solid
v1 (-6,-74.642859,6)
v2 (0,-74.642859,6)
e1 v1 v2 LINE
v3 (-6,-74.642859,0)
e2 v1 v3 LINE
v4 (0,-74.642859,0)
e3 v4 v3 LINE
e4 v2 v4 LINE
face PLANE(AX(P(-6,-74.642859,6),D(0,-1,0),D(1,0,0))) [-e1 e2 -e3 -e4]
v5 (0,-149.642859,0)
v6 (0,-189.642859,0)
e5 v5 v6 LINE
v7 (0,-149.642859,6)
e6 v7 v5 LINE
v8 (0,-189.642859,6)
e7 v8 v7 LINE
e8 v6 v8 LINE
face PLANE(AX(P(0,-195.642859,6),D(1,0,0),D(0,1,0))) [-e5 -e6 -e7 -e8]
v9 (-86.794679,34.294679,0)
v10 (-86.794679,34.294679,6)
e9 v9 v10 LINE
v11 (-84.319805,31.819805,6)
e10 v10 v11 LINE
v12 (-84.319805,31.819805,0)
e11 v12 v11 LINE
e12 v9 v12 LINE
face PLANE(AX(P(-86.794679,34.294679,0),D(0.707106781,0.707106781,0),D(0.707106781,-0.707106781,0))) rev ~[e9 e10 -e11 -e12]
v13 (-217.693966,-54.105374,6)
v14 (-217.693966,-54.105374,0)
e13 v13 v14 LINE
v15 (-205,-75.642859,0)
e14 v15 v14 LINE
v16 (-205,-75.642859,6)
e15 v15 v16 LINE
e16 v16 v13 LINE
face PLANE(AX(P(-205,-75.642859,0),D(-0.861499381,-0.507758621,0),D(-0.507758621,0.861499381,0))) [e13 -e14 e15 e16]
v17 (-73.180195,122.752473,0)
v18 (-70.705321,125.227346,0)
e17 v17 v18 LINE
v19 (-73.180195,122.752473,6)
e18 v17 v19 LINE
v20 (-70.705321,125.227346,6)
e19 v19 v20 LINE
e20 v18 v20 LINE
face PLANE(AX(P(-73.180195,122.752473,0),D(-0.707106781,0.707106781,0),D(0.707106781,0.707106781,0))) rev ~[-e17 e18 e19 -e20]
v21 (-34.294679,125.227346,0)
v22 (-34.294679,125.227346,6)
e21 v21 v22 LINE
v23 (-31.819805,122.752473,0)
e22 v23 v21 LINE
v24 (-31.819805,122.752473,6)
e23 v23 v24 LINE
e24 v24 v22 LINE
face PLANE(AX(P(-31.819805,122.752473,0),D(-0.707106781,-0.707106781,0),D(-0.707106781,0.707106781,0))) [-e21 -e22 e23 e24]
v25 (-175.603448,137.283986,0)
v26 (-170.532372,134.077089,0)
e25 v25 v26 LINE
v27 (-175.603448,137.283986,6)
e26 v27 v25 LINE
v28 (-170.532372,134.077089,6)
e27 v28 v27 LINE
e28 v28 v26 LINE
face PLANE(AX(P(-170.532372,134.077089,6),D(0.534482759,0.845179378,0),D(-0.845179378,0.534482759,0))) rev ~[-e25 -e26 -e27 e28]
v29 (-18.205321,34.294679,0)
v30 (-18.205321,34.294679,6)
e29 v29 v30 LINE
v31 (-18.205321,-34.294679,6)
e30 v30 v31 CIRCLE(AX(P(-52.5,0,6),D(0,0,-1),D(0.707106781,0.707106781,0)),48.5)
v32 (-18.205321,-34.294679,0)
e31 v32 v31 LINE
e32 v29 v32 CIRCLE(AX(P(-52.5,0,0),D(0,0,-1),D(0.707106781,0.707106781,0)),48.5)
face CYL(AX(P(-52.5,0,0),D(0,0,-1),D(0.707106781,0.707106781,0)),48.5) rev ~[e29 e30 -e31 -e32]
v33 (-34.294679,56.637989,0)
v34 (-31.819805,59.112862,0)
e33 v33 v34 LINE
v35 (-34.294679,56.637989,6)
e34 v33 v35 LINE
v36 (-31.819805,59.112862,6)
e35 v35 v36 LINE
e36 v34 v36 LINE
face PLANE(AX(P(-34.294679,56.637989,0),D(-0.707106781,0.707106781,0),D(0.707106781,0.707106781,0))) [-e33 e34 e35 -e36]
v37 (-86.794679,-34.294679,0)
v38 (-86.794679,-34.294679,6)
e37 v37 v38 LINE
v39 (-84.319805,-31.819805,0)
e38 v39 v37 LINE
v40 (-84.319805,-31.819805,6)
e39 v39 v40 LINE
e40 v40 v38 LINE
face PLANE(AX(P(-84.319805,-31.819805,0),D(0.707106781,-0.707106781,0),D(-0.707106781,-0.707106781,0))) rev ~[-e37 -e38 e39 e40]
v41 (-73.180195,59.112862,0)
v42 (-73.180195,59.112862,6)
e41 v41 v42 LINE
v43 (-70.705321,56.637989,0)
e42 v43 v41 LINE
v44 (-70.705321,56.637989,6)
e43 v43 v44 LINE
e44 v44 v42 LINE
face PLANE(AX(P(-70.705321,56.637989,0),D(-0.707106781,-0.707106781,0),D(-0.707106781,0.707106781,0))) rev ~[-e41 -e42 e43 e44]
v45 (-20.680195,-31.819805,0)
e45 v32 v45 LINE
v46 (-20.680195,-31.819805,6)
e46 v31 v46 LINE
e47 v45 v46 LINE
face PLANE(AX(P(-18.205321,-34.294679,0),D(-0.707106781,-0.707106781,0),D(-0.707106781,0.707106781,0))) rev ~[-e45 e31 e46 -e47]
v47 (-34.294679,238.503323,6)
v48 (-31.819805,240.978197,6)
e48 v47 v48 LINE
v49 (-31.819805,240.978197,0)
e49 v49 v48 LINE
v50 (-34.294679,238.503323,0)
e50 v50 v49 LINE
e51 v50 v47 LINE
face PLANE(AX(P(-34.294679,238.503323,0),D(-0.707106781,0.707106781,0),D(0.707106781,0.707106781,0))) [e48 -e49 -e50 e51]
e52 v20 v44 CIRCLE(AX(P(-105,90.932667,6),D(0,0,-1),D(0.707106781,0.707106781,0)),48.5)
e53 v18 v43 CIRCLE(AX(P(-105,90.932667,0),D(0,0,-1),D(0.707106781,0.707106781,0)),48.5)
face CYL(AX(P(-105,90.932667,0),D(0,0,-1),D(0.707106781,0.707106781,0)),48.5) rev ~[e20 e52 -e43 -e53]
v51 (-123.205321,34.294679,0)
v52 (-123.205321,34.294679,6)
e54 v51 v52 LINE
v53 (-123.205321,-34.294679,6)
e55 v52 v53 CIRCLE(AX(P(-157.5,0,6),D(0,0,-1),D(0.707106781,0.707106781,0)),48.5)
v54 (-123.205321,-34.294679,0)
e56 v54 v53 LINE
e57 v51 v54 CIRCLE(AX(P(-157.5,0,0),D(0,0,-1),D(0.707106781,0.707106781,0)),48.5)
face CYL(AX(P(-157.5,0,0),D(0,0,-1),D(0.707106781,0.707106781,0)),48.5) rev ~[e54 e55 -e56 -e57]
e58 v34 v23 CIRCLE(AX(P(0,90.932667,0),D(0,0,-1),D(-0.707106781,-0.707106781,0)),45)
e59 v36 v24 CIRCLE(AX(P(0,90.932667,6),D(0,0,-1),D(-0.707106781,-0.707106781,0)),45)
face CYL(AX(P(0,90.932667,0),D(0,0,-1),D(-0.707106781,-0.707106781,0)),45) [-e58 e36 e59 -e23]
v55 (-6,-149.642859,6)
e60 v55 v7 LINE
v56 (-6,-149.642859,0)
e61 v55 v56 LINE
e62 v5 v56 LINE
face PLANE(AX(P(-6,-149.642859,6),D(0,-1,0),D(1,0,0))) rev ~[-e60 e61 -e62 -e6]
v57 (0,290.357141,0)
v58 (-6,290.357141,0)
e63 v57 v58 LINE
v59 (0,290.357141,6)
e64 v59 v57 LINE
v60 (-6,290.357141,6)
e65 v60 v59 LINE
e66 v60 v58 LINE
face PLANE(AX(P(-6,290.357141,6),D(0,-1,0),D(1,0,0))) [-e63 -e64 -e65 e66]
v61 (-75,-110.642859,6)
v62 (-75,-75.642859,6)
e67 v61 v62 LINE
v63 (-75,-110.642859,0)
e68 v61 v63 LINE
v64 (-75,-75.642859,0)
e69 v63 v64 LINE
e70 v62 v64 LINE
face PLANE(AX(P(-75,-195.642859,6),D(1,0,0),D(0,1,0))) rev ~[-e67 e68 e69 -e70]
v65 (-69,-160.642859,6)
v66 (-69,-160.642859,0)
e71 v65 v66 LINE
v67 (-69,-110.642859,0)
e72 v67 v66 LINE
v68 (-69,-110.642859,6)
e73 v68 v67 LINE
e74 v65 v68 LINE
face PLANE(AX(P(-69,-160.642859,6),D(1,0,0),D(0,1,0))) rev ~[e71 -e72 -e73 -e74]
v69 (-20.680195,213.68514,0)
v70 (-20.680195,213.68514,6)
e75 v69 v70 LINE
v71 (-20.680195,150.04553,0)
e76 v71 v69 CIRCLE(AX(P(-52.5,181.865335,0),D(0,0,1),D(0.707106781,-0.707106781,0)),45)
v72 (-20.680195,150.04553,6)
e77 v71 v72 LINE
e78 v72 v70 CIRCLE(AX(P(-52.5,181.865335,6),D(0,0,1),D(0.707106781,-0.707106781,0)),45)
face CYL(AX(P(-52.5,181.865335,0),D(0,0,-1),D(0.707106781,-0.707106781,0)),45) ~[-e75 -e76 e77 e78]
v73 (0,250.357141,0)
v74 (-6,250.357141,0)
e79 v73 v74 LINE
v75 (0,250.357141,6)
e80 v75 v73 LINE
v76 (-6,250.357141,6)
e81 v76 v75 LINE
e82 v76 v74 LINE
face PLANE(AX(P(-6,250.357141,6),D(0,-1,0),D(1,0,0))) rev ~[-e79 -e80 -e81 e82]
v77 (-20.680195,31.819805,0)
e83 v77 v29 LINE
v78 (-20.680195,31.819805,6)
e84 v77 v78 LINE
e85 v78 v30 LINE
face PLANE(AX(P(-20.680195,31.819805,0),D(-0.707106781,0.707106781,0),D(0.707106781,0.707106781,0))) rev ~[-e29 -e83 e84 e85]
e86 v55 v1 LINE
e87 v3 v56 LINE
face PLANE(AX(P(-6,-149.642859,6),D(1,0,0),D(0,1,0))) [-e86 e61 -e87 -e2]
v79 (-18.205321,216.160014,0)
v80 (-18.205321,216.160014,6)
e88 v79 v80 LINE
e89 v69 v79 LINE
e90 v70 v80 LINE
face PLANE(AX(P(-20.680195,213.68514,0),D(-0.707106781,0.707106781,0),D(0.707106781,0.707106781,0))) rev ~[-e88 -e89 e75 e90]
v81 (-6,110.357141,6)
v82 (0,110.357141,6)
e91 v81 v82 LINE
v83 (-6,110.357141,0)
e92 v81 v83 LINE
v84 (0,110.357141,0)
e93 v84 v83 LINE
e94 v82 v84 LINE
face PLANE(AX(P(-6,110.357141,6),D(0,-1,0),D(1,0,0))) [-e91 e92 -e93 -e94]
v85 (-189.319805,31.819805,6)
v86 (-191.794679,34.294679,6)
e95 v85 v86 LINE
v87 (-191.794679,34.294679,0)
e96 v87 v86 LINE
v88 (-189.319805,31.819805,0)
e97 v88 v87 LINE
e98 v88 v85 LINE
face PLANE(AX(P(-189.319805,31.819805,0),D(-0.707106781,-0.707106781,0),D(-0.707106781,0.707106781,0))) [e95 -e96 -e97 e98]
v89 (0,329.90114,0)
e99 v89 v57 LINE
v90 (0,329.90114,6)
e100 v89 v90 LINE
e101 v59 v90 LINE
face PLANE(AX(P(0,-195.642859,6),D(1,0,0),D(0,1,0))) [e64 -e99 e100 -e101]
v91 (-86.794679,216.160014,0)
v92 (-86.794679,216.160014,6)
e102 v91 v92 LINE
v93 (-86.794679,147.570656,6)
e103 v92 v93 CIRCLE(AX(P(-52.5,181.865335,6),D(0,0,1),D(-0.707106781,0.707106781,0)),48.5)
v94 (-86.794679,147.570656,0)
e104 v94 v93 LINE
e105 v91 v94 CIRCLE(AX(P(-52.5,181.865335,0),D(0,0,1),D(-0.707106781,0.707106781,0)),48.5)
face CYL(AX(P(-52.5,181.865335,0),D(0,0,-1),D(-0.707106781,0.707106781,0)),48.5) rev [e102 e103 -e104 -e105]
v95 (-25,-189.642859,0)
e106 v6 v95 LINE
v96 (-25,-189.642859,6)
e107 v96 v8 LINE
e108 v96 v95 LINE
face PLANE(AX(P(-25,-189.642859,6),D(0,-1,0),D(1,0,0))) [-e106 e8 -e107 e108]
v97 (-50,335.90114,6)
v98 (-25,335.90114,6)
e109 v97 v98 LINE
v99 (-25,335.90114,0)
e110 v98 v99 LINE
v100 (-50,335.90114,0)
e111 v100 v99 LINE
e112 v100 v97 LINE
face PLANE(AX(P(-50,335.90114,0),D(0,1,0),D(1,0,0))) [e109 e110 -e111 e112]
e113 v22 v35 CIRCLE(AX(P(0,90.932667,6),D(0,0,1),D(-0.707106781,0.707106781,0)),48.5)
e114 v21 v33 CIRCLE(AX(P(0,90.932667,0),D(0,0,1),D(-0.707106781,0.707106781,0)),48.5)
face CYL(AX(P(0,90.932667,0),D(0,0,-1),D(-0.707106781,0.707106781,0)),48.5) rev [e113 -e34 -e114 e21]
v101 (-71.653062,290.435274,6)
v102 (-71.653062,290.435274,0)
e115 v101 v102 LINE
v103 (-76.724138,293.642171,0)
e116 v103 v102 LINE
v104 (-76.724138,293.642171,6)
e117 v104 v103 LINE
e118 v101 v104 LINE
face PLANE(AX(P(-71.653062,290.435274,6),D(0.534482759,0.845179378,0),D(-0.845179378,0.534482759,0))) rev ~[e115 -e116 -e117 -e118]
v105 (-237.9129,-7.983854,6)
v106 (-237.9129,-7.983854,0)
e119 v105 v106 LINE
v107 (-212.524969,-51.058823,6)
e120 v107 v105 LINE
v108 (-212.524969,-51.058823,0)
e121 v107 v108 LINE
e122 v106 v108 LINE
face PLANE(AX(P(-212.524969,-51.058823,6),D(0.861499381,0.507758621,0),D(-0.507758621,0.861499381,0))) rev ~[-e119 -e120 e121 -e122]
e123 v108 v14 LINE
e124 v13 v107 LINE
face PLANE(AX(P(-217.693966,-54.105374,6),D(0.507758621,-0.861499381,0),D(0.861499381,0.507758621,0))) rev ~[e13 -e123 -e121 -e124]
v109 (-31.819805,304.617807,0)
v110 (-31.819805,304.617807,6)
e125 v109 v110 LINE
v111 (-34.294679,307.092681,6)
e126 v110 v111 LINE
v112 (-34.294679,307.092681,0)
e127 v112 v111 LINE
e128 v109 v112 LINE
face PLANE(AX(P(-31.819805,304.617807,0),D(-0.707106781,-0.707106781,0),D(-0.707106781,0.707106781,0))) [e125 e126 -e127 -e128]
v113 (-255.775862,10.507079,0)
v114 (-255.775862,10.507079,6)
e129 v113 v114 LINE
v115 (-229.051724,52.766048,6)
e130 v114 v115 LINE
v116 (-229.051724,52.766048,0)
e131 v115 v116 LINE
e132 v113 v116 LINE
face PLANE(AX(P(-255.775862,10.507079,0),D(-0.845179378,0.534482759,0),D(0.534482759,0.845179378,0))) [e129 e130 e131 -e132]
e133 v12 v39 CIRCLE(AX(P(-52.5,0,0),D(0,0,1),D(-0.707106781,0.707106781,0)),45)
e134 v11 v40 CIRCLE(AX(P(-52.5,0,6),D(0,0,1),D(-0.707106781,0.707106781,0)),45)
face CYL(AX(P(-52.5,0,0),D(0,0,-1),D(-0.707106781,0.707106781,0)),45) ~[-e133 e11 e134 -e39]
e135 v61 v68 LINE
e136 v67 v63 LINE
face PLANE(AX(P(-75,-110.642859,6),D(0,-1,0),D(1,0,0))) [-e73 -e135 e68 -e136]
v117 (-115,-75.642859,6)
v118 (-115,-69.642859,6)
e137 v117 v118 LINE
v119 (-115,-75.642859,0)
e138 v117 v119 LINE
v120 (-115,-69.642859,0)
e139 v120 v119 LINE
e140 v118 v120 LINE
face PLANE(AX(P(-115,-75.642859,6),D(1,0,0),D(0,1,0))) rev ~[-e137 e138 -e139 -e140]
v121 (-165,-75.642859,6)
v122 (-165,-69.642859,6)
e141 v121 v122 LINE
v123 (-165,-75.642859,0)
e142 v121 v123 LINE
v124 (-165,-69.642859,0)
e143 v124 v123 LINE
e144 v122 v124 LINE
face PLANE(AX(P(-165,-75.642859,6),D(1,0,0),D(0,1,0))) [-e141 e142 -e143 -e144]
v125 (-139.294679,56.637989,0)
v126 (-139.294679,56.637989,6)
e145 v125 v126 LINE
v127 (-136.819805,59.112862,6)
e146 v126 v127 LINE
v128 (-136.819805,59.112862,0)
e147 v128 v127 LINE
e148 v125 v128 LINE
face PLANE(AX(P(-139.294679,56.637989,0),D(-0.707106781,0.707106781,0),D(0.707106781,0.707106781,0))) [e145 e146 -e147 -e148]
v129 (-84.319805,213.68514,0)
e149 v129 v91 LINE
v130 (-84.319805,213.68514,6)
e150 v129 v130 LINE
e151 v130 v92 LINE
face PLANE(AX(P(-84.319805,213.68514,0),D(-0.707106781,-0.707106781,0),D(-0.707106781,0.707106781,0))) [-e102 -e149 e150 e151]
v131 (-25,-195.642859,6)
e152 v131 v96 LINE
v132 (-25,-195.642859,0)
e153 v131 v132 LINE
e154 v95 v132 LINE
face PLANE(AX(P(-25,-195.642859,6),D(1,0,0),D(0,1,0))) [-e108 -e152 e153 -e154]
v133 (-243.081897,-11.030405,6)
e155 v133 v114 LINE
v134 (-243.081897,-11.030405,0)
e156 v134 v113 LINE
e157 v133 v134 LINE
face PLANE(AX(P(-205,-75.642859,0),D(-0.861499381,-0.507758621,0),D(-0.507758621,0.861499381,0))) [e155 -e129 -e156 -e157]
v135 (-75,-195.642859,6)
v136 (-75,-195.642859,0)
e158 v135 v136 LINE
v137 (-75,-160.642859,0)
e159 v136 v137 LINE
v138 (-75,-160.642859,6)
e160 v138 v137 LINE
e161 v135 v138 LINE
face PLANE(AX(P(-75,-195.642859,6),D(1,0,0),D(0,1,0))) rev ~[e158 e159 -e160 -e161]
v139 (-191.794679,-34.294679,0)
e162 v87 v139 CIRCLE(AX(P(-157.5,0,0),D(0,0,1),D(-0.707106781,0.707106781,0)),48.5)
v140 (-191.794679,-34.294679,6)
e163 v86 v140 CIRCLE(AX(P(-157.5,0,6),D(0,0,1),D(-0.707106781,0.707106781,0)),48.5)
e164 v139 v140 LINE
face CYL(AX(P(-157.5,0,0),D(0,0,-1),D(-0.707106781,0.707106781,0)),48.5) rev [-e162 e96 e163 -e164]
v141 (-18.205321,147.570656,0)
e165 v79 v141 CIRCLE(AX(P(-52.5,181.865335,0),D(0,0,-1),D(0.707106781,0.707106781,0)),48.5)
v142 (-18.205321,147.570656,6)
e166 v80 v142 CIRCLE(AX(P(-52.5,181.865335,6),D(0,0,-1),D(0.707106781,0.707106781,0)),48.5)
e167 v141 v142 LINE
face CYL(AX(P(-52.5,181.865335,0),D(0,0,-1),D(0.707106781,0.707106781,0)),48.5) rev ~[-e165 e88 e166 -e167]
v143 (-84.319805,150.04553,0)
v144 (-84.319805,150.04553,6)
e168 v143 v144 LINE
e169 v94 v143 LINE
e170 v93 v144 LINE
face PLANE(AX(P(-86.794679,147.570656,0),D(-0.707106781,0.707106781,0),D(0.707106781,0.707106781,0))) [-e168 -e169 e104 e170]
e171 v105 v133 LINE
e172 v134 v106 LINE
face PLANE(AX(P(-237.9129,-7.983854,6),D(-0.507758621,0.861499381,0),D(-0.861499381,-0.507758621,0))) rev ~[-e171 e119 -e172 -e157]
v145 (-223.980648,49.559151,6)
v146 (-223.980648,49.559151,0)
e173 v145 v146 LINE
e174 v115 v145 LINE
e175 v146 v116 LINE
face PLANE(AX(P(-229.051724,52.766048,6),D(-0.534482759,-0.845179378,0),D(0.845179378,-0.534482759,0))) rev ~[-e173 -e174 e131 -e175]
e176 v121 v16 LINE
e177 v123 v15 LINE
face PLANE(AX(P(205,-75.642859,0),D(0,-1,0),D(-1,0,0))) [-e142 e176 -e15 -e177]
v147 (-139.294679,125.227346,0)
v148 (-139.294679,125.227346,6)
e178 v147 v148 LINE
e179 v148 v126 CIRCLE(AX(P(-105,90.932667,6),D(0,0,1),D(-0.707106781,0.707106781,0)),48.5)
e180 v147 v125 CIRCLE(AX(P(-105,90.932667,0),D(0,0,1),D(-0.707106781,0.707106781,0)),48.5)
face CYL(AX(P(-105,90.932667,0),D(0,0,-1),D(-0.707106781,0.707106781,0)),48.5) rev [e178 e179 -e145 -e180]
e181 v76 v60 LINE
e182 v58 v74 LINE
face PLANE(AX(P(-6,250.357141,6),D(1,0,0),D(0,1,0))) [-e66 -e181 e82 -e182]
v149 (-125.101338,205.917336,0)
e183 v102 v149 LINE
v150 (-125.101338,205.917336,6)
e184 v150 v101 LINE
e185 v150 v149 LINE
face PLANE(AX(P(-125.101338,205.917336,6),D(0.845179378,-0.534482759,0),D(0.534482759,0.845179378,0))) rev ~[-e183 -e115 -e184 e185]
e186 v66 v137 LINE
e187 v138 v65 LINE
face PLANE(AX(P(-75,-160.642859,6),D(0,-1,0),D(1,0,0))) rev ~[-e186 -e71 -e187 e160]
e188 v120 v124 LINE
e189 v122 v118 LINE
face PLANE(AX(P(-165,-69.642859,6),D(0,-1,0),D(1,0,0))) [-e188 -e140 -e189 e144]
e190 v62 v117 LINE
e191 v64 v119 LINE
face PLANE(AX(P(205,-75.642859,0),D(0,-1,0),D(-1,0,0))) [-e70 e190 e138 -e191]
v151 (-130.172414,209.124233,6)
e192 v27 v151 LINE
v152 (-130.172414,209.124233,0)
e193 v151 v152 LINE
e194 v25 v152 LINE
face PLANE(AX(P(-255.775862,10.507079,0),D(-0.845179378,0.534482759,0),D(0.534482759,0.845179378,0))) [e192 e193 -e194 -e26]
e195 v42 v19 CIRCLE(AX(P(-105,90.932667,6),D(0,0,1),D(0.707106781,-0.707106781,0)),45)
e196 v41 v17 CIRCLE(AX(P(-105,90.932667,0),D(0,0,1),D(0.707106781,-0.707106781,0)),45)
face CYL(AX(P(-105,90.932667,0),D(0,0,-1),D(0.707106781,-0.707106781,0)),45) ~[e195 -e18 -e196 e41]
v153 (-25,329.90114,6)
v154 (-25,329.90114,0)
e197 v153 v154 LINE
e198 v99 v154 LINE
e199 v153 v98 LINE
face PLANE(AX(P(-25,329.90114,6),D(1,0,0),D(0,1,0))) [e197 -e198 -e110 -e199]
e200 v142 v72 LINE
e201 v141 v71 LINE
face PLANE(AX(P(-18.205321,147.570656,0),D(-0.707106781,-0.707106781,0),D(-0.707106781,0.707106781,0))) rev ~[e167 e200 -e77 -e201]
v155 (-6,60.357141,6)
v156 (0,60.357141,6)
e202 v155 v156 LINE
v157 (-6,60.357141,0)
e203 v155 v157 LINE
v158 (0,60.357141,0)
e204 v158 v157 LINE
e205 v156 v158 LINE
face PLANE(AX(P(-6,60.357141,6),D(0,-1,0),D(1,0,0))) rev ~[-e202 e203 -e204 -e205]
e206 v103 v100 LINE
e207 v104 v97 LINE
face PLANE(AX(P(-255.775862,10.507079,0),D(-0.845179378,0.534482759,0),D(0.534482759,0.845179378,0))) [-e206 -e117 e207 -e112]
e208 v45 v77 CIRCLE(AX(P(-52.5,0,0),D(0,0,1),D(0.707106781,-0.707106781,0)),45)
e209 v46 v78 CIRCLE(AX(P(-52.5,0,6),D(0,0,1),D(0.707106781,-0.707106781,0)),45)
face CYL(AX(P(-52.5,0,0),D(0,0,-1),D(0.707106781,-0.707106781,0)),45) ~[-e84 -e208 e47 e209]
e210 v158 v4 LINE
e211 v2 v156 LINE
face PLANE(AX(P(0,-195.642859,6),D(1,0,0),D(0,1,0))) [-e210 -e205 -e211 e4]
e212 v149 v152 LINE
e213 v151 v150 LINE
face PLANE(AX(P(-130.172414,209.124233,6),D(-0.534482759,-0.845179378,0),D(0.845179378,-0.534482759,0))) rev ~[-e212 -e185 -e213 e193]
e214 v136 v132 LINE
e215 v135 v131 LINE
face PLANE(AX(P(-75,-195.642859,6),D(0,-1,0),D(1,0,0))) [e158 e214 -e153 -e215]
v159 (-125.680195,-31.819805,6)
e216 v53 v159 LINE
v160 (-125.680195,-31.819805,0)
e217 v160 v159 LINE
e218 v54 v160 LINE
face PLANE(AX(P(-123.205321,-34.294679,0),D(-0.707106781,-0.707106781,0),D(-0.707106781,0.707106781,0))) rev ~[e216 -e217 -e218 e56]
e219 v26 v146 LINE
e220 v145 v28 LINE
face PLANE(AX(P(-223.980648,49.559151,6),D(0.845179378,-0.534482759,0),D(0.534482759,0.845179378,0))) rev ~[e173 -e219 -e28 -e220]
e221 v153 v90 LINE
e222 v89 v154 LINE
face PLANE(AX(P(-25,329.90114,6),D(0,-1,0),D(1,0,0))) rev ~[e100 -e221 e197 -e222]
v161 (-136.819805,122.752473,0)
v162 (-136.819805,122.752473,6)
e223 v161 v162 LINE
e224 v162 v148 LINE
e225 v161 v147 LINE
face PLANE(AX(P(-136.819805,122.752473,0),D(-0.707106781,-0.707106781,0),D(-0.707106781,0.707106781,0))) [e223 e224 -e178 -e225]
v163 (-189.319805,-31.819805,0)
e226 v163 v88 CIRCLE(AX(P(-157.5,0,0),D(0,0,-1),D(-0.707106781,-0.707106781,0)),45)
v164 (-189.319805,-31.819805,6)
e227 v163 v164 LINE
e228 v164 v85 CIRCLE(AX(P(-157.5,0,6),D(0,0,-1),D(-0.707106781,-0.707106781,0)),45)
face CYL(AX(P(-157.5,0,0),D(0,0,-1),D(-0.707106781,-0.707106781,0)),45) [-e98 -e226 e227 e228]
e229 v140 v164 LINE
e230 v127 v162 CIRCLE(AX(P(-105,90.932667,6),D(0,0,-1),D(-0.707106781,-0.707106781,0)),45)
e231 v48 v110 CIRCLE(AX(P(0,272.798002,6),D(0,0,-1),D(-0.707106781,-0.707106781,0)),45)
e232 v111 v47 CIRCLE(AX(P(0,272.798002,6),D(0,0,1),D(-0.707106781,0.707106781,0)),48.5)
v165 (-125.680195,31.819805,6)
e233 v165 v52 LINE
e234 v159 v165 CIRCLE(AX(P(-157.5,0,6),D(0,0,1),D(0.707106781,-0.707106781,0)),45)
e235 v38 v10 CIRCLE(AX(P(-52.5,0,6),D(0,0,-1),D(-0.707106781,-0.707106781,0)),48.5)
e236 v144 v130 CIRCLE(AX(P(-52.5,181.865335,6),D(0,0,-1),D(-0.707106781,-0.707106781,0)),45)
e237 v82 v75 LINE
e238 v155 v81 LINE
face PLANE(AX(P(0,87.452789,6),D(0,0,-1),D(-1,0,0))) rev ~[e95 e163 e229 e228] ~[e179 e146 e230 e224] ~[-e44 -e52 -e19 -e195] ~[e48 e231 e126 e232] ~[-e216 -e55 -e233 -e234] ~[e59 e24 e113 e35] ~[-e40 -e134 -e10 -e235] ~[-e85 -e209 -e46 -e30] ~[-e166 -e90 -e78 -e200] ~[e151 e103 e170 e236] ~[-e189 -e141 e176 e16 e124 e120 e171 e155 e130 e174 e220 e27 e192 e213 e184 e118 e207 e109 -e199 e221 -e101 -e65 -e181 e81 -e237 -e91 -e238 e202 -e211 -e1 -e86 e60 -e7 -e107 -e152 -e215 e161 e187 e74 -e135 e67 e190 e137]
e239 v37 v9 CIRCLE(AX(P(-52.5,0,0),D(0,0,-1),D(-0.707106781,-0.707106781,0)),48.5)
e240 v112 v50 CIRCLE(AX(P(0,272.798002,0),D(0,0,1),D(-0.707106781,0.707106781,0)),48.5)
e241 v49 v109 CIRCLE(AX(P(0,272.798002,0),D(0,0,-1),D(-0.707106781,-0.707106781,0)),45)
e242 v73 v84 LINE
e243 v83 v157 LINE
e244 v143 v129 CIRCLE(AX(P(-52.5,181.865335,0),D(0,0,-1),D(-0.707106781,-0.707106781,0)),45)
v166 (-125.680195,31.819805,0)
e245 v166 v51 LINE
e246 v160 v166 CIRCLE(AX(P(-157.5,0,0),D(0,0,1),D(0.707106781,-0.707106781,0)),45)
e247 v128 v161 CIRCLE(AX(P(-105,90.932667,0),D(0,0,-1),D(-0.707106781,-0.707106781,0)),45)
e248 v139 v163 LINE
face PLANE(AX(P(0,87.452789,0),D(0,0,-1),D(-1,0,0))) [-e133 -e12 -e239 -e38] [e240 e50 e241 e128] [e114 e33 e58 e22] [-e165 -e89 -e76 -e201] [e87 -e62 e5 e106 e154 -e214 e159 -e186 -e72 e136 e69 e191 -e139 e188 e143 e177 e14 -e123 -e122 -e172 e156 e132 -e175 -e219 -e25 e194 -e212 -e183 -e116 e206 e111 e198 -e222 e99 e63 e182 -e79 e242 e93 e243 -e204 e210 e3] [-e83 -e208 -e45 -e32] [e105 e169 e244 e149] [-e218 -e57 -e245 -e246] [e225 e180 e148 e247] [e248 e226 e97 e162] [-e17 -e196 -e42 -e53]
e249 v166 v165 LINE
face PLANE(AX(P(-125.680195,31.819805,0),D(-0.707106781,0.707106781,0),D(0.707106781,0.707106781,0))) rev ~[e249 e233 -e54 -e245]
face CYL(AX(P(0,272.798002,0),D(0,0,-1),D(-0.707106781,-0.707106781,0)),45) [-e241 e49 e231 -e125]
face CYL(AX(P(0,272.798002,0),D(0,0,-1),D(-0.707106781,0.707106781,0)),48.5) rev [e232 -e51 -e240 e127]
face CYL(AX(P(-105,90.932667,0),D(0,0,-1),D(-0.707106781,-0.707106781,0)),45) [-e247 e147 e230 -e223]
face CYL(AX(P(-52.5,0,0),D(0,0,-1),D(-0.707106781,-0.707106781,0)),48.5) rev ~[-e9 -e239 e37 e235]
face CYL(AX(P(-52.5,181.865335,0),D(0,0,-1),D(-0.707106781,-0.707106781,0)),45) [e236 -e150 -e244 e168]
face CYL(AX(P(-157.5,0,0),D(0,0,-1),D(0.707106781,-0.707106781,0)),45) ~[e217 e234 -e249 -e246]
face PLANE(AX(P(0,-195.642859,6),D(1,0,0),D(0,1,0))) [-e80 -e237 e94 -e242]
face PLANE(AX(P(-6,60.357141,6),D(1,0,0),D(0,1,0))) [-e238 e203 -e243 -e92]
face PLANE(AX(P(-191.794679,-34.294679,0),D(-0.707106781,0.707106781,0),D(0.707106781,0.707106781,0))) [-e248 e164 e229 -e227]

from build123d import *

# Parameters (mm, degrees)
BOSS_EXTRU_1_DEPTH      = 6
ESQUISSE2_W             = 150
ESQUISSE2_H             = 120
BOSS_EXTRU_2_DEPTH      = 6
ESQUISSE3_W             = 6
ESQUISSE3_H             = 50
ESQUISSE3_W_2           = 50
ESQUISSE3_H_2           = 6
ENL_V_MAT_EXTRU_1_DEPTH = 10
ESQUISSE4_W             = 50
ESQUISSE4_H             = 6
ENL_V_MAT_EXTRU_2_DEPTH = 10
ESQUISSE5_W             = 263.306064462
ESQUISSE5_H             = 531.54399855
ENL_V_MAT_EXTRU_5_DEPTH = 10
ESQUISSE9_W             = 6
ESQUISSE9_H             = 75
ESQUISSE9_H_2           = 50
ESQUISSE9_H_3           = 40
ENL_V_MAT_EXTRU_6_DEPTH = 10


with BuildPart() as part:
    # Esquisse1 → Boss.-Extru.1 (new body)
    with BuildSketch(Plane.XY):
        Polygon((-50, 335.901139534), (50, 335.901139534), (255.775862069, 10.507079064), (205, -75.642859016), (-205, -75.642859016), (-255.775862069, 10.507079064), align=None)
        with BuildLine():
            Line((-189.319805153, 31.819805153), (-191.794678888, 34.294678888))
            ThreePointArc((-191.794678888, 34.294678888), (-206, 0), (-191.794678888, -34.294678888))
            Line((-191.794678888, -34.294678888), (-189.319805153, -31.819805153))
            ThreePointArc((-189.319805153, -31.819805153), (-202.5, 0), (-189.319805153, 31.819805153))
        make_face(mode=Mode.SUBTRACT)
        with BuildLine():
            Line((-125.680194847, 31.819805153), (-123.205321112, 34.294678888))
            ThreePointArc((-123.205321112, 34.294678888), (-109, 0), (-123.205321112, -34.294678888))
            Line((-123.205321112, -34.294678888), (-125.680194847, -31.819805153))
            ThreePointArc((-125.680194847, -31.819805153), (-112.5, 0), (-125.680194847, 31.819805153))
        make_face(mode=Mode.SUBTRACT)
        with BuildLine():
            Line((-84.319805153, -31.819805153), (-86.794678888, -34.294678888))
            ThreePointArc((-86.794678888, -34.294678888), (-101, 0), (-86.794678888, 34.294678888))
            Line((-86.794678888, 34.294678888), (-84.319805153, 31.819805153))
            ThreePointArc((-84.319805153, 31.819805153), (-97.5, 0), (-84.319805153, -31.819805153))
        make_face(mode=Mode.SUBTRACT)
        with BuildLine():
            Line((-20.680194847, 31.819805153), (-18.205321112, 34.294678888))
            ThreePointArc((-18.205321112, 34.294678888), (-4, 0), (-18.205321112, -34.294678888))
            Line((-18.205321112, -34.294678888), (-20.680194847, -31.819805153))
            ThreePointArc((-20.680194847, -31.819805153), (-7.5, 0), (-20.680194847, 31.819805153))
        make_face(mode=Mode.SUBTRACT)
        with BuildLine():
            Line((20.680194847, -31.819805153), (18.205321112, -34.294678888))
            ThreePointArc((18.205321112, -34.294678888), (4, 0), (18.205321112, 34.294678888))
            Line((18.205321112, 34.294678888), (20.680194847, 31.819805153))
            ThreePointArc((20.680194847, 31.819805153), (7.5, 0), (20.680194847, -31.819805153))
        make_face(mode=Mode.SUBTRACT)
        with BuildLine():
            Line((84.319805153, 31.819805153), (86.794678888, 34.294678888))
            ThreePointArc((86.794678888, 34.294678888), (101, 0), (86.794678888, -34.294678888))
            Line((86.794678888, -34.294678888), (84.319805153, -31.819805153))
            ThreePointArc((84.319805153, -31.819805153), (97.5, 0), (84.319805153, 31.819805153))
        make_face(mode=Mode.SUBTRACT)
        with BuildLine():
            Line((125.680194847, -31.819805153), (123.205321112, -34.294678888))
            ThreePointArc((123.205321112, -34.294678888), (109, 0), (123.205321112, 34.294678888))
            Line((123.205321112, 34.294678888), (125.680194847, 31.819805153))
            ThreePointArc((125.680194847, 31.819805153), (112.5, 0), (125.680194847, -31.819805153))
        make_face(mode=Mode.SUBTRACT)
        with BuildLine():
            Line((189.319805153, 31.819805153), (191.794678888, 34.294678888))
            ThreePointArc((191.794678888, 34.294678888), (206, 0), (191.794678888, -34.294678888))
            Line((191.794678888, -34.294678888), (189.319805153, -31.819805153))
            ThreePointArc((189.319805153, -31.819805153), (202.5, 0), (189.319805153, 31.819805153))
        make_face(mode=Mode.SUBTRACT)
        with BuildLine():
            Line((-139.294678888, 56.63798851), (-136.819805153, 59.112862244))
            ThreePointArc((-136.819805153, 59.112862244), (-150, 90.932667397), (-136.819805153, 122.752472551))
            Line((-136.819805153, 122.752472551), (-139.294678888, 125.227346285))
            ThreePointArc((-139.294678888, 125.227346285), (-153.5, 90.932667397), (-139.294678888, 56.63798851))
        make_face(mode=Mode.SUBTRACT)
        with BuildLine():
            Line((-70.705321112, 56.63798851), (-73.180194847, 59.112862244))
            ThreePointArc((-73.180194847, 59.112862244), (-60, 90.932667397), (-73.180194847, 122.752472551))
            Line((-73.180194847, 122.752472551), (-70.705321112, 125.227346285))
            ThreePointArc((-70.705321112, 125.227346285), (-56.5, 90.932667397), (-70.705321112, 56.63798851))
        make_face(mode=Mode.SUBTRACT)
        with BuildLine():
            Line((-31.819805153, 122.752472551), (-34.294678888, 125.227346285))
            ThreePointArc((-34.294678888, 125.227346285), (-48.5, 90.932667397), (-34.294678888, 56.63798851))
            Line((-34.294678888, 56.63798851), (-31.819805153, 59.112862244))
            ThreePointArc((-31.819805153, 59.112862244), (-45, 90.932667397), (-31.819805153, 122.752472551))
        make_face(mode=Mode.SUBTRACT)
        with BuildLine():
            Line((34.294678888, 56.63798851), (31.819805153, 59.112862244))
            ThreePointArc((31.819805153, 59.112862244), (45, 90.932667397), (31.819805153, 122.752472551))
            Line((31.819805153, 122.752472551), (34.294678888, 125.227346285))
            ThreePointArc((34.294678888, 125.227346285), (48.5, 90.932667397), (34.294678888, 56.63798851))
        make_face(mode=Mode.SUBTRACT)
        with BuildLine():
            Line((73.180194847, 122.752472551), (70.705321112, 125.227346285))
            ThreePointArc((70.705321112, 125.227346285), (56.5, 90.932667397), (70.705321112, 56.63798851))
            Line((70.705321112, 56.63798851), (73.180194847, 59.112862244))
            ThreePointArc((73.180194847, 59.112862244), (60, 90.932667397), (73.180194847, 122.752472551))
        make_face(mode=Mode.SUBTRACT)
        with BuildLine():
            Line((139.294678888, 56.63798851), (136.819805153, 59.112862244))
            ThreePointArc((136.819805153, 59.112862244), (150, 90.932667397), (136.819805153, 122.752472551))
            Line((136.819805153, 122.752472551), (139.294678888, 125.227346285))
            ThreePointArc((139.294678888, 125.227346285), (153.5, 90.932667397), (139.294678888, 56.63798851))
        make_face(mode=Mode.SUBTRACT)
        with BuildLine():
            Line((-84.319805153, 213.685139948), (-86.794678888, 216.160013682))
            ThreePointArc((-86.794678888, 216.160013682), (-101, 181.865334795), (-86.794678888, 147.570655907))
            Line((-86.794678888, 147.570655907), (-84.319805153, 150.045529641))
            ThreePointArc((-84.319805153, 150.045529641), (-97.5, 181.865334795), (-84.319805153, 213.685139948))
        make_face(mode=Mode.SUBTRACT)
        with BuildLine():
            Line((-20.680194847, 213.685139948), (-18.205321112, 216.160013682))
            ThreePointArc((-18.205321112, 216.160013682), (-4, 181.865334795), (-18.205321112, 147.570655907))
            Line((-18.205321112, 147.570655907), (-20.680194847, 150.045529641))
            ThreePointArc((-20.680194847, 150.045529641), (-7.5, 181.865334795), (-20.680194847, 213.685139948))
        make_face(mode=Mode.SUBTRACT)
        with BuildLine():
            Line((20.680194847, 150.045529641), (18.205321112, 147.570655907))
            ThreePointArc((18.205321112, 147.570655907), (4, 181.865334795), (18.205321112, 216.160013682))
            Line((18.205321112, 216.160013682), (20.680194847, 213.685139948))
            ThreePointArc((20.680194847, 213.685139948), (7.5, 181.865334795), (20.680194847, 150.045529641))
        make_face(mode=Mode.SUBTRACT)
        with BuildLine():
            Line((84.319805153, 150.045529641), (86.794678888, 147.570655907))
            ThreePointArc((86.794678888, 147.570655907), (101, 181.865334795), (86.794678888, 216.160013682))
            Line((86.794678888, 216.160013682), (84.319805153, 213.685139948))
            ThreePointArc((84.319805153, 213.685139948), (97.5, 181.865334795), (84.319805153, 150.045529641))
        make_face(mode=Mode.SUBTRACT)
        with BuildLine():
            Line((-31.819805153, 304.617807345), (-34.294678888, 307.09268108))
            ThreePointArc((-34.294678888, 307.09268108), (-48.5, 272.798002192), (-34.294678888, 238.503323305))
            Line((-34.294678888, 238.503323305), (-31.819805153, 240.978197039))
            ThreePointArc((-31.819805153, 240.978197039), (-45, 272.798002192), (-31.819805153, 304.617807345))
        make_face(mode=Mode.SUBTRACT)
        with BuildLine():
            Line((31.819805153, 304.617807345), (34.294678888, 307.09268108))
            ThreePointArc((34.294678888, 307.09268108), (48.5, 272.798002192), (34.294678888, 238.503323305))
            Line((34.294678888, 238.503323305), (31.819805153, 240.978197039))
            ThreePointArc((31.819805153, 240.978197039), (45, 272.798002192), (31.819805153, 304.617807345))
        make_face(mode=Mode.SUBTRACT)
    extrude(amount=BOSS_EXTRU_1_DEPTH)

    # Esquisse2 → Boss.-Extru.2 (add)
    with BuildSketch(Plane.XY.offset(6)):
        with Locations((0, -135.642859016)):
            Rectangle(ESQUISSE2_W, ESQUISSE2_H)
    extrude(amount=-BOSS_EXTRU_2_DEPTH)

    # Esquisse3 → Enlèv. mat.-Extru.1 (cut)
    with BuildSketch(Plane.XY.offset(6)):
        with Locations((-72, -135.642859016)):
            Rectangle(ESQUISSE3_W, ESQUISSE3_H)
        with Locations((0, -192.642859016)):
            Rectangle(ESQUISSE3_W_2, ESQUISSE3_H_2)
        with Locations((72, -135.642859016)):
            Rectangle(ESQUISSE3_W, ESQUISSE3_H)
    extrude(amount=-ENL_V_MAT_EXTRU_1_DEPTH, mode=Mode.SUBTRACT)

    # Esquisse4 → Enlèv. mat.-Extru.2 (cut)
    with BuildSketch(Plane.XY.offset(6)):
        with Locations((-140, -72.642859016)):
            Rectangle(ESQUISSE4_W, ESQUISSE4_H)
        Polygon((-217.693965517, -54.105374496), (-212.524969232, -51.058822772), (-237.912900267, -7.983853732), (-243.081896552, -11.030405456), align=None)
        Polygon((-229.051724138, 52.766047956), (-223.980647871, 49.559151404), (-170.532372009, 134.077089189), (-175.603448276, 137.283985741), align=None)
        Polygon((-71.653061664, 290.43527409), (-76.724137931, 293.642170642), (-130.172413793, 209.124232857), (-125.101337526, 205.917336306), align=None)
        with Locations((0, 332.901139534)):
            Rectangle(ESQUISSE4_W, ESQUISSE4_H)
        with Locations((140, -72.642859016)):
            Rectangle(ESQUISSE4_W, ESQUISSE4_H)
        Polygon((237.912900267, -7.983853732), (243.081896552, -11.030405456), (217.693965517, -54.105374496), (212.524969232, -51.058822772), align=None)
        Polygon((170.532372009, 134.077089189), (175.603448276, 137.283985741), (229.051724138, 52.766047956), (223.980647871, 49.559151404), align=None)
        Polygon((125.101337526, 205.917336306), (130.172413793, 209.124232857), (76.724137931, 293.642170642), (71.653061664, 290.43527409), align=None)
    extrude(amount=-ENL_V_MAT_EXTRU_2_DEPTH, mode=Mode.SUBTRACT)

    # Esquisse5 → Enlèv. mat.-Extru.5 (cut)
    with BuildSketch(Plane.XY.offset(6)):
        with Locations((131.653032231, 70.129140259)):
            Rectangle(ESQUISSE5_W, ESQUISSE5_H)
    extrude(amount=-ENL_V_MAT_EXTRU_5_DEPTH, mode=Mode.SUBTRACT)

    # Esquisse9 → Enlèv. mat.-Extru.6 (cut)
    with BuildSketch(Plane.XY.offset(6)):
        with Locations((-3, -112.142859016)):
            Rectangle(ESQUISSE9_W, ESQUISSE9_H)
        with Locations((-3, 85.357140984)):
            Rectangle(ESQUISSE9_W, ESQUISSE9_H_2)
        with Locations((-3, 270.357140984)):
            Rectangle(ESQUISSE9_W, ESQUISSE9_H_3)
    extrude(amount=-ENL_V_MAT_EXTRU_6_DEPTH, mode=Mode.SUBTRACT)


solid = part.part
